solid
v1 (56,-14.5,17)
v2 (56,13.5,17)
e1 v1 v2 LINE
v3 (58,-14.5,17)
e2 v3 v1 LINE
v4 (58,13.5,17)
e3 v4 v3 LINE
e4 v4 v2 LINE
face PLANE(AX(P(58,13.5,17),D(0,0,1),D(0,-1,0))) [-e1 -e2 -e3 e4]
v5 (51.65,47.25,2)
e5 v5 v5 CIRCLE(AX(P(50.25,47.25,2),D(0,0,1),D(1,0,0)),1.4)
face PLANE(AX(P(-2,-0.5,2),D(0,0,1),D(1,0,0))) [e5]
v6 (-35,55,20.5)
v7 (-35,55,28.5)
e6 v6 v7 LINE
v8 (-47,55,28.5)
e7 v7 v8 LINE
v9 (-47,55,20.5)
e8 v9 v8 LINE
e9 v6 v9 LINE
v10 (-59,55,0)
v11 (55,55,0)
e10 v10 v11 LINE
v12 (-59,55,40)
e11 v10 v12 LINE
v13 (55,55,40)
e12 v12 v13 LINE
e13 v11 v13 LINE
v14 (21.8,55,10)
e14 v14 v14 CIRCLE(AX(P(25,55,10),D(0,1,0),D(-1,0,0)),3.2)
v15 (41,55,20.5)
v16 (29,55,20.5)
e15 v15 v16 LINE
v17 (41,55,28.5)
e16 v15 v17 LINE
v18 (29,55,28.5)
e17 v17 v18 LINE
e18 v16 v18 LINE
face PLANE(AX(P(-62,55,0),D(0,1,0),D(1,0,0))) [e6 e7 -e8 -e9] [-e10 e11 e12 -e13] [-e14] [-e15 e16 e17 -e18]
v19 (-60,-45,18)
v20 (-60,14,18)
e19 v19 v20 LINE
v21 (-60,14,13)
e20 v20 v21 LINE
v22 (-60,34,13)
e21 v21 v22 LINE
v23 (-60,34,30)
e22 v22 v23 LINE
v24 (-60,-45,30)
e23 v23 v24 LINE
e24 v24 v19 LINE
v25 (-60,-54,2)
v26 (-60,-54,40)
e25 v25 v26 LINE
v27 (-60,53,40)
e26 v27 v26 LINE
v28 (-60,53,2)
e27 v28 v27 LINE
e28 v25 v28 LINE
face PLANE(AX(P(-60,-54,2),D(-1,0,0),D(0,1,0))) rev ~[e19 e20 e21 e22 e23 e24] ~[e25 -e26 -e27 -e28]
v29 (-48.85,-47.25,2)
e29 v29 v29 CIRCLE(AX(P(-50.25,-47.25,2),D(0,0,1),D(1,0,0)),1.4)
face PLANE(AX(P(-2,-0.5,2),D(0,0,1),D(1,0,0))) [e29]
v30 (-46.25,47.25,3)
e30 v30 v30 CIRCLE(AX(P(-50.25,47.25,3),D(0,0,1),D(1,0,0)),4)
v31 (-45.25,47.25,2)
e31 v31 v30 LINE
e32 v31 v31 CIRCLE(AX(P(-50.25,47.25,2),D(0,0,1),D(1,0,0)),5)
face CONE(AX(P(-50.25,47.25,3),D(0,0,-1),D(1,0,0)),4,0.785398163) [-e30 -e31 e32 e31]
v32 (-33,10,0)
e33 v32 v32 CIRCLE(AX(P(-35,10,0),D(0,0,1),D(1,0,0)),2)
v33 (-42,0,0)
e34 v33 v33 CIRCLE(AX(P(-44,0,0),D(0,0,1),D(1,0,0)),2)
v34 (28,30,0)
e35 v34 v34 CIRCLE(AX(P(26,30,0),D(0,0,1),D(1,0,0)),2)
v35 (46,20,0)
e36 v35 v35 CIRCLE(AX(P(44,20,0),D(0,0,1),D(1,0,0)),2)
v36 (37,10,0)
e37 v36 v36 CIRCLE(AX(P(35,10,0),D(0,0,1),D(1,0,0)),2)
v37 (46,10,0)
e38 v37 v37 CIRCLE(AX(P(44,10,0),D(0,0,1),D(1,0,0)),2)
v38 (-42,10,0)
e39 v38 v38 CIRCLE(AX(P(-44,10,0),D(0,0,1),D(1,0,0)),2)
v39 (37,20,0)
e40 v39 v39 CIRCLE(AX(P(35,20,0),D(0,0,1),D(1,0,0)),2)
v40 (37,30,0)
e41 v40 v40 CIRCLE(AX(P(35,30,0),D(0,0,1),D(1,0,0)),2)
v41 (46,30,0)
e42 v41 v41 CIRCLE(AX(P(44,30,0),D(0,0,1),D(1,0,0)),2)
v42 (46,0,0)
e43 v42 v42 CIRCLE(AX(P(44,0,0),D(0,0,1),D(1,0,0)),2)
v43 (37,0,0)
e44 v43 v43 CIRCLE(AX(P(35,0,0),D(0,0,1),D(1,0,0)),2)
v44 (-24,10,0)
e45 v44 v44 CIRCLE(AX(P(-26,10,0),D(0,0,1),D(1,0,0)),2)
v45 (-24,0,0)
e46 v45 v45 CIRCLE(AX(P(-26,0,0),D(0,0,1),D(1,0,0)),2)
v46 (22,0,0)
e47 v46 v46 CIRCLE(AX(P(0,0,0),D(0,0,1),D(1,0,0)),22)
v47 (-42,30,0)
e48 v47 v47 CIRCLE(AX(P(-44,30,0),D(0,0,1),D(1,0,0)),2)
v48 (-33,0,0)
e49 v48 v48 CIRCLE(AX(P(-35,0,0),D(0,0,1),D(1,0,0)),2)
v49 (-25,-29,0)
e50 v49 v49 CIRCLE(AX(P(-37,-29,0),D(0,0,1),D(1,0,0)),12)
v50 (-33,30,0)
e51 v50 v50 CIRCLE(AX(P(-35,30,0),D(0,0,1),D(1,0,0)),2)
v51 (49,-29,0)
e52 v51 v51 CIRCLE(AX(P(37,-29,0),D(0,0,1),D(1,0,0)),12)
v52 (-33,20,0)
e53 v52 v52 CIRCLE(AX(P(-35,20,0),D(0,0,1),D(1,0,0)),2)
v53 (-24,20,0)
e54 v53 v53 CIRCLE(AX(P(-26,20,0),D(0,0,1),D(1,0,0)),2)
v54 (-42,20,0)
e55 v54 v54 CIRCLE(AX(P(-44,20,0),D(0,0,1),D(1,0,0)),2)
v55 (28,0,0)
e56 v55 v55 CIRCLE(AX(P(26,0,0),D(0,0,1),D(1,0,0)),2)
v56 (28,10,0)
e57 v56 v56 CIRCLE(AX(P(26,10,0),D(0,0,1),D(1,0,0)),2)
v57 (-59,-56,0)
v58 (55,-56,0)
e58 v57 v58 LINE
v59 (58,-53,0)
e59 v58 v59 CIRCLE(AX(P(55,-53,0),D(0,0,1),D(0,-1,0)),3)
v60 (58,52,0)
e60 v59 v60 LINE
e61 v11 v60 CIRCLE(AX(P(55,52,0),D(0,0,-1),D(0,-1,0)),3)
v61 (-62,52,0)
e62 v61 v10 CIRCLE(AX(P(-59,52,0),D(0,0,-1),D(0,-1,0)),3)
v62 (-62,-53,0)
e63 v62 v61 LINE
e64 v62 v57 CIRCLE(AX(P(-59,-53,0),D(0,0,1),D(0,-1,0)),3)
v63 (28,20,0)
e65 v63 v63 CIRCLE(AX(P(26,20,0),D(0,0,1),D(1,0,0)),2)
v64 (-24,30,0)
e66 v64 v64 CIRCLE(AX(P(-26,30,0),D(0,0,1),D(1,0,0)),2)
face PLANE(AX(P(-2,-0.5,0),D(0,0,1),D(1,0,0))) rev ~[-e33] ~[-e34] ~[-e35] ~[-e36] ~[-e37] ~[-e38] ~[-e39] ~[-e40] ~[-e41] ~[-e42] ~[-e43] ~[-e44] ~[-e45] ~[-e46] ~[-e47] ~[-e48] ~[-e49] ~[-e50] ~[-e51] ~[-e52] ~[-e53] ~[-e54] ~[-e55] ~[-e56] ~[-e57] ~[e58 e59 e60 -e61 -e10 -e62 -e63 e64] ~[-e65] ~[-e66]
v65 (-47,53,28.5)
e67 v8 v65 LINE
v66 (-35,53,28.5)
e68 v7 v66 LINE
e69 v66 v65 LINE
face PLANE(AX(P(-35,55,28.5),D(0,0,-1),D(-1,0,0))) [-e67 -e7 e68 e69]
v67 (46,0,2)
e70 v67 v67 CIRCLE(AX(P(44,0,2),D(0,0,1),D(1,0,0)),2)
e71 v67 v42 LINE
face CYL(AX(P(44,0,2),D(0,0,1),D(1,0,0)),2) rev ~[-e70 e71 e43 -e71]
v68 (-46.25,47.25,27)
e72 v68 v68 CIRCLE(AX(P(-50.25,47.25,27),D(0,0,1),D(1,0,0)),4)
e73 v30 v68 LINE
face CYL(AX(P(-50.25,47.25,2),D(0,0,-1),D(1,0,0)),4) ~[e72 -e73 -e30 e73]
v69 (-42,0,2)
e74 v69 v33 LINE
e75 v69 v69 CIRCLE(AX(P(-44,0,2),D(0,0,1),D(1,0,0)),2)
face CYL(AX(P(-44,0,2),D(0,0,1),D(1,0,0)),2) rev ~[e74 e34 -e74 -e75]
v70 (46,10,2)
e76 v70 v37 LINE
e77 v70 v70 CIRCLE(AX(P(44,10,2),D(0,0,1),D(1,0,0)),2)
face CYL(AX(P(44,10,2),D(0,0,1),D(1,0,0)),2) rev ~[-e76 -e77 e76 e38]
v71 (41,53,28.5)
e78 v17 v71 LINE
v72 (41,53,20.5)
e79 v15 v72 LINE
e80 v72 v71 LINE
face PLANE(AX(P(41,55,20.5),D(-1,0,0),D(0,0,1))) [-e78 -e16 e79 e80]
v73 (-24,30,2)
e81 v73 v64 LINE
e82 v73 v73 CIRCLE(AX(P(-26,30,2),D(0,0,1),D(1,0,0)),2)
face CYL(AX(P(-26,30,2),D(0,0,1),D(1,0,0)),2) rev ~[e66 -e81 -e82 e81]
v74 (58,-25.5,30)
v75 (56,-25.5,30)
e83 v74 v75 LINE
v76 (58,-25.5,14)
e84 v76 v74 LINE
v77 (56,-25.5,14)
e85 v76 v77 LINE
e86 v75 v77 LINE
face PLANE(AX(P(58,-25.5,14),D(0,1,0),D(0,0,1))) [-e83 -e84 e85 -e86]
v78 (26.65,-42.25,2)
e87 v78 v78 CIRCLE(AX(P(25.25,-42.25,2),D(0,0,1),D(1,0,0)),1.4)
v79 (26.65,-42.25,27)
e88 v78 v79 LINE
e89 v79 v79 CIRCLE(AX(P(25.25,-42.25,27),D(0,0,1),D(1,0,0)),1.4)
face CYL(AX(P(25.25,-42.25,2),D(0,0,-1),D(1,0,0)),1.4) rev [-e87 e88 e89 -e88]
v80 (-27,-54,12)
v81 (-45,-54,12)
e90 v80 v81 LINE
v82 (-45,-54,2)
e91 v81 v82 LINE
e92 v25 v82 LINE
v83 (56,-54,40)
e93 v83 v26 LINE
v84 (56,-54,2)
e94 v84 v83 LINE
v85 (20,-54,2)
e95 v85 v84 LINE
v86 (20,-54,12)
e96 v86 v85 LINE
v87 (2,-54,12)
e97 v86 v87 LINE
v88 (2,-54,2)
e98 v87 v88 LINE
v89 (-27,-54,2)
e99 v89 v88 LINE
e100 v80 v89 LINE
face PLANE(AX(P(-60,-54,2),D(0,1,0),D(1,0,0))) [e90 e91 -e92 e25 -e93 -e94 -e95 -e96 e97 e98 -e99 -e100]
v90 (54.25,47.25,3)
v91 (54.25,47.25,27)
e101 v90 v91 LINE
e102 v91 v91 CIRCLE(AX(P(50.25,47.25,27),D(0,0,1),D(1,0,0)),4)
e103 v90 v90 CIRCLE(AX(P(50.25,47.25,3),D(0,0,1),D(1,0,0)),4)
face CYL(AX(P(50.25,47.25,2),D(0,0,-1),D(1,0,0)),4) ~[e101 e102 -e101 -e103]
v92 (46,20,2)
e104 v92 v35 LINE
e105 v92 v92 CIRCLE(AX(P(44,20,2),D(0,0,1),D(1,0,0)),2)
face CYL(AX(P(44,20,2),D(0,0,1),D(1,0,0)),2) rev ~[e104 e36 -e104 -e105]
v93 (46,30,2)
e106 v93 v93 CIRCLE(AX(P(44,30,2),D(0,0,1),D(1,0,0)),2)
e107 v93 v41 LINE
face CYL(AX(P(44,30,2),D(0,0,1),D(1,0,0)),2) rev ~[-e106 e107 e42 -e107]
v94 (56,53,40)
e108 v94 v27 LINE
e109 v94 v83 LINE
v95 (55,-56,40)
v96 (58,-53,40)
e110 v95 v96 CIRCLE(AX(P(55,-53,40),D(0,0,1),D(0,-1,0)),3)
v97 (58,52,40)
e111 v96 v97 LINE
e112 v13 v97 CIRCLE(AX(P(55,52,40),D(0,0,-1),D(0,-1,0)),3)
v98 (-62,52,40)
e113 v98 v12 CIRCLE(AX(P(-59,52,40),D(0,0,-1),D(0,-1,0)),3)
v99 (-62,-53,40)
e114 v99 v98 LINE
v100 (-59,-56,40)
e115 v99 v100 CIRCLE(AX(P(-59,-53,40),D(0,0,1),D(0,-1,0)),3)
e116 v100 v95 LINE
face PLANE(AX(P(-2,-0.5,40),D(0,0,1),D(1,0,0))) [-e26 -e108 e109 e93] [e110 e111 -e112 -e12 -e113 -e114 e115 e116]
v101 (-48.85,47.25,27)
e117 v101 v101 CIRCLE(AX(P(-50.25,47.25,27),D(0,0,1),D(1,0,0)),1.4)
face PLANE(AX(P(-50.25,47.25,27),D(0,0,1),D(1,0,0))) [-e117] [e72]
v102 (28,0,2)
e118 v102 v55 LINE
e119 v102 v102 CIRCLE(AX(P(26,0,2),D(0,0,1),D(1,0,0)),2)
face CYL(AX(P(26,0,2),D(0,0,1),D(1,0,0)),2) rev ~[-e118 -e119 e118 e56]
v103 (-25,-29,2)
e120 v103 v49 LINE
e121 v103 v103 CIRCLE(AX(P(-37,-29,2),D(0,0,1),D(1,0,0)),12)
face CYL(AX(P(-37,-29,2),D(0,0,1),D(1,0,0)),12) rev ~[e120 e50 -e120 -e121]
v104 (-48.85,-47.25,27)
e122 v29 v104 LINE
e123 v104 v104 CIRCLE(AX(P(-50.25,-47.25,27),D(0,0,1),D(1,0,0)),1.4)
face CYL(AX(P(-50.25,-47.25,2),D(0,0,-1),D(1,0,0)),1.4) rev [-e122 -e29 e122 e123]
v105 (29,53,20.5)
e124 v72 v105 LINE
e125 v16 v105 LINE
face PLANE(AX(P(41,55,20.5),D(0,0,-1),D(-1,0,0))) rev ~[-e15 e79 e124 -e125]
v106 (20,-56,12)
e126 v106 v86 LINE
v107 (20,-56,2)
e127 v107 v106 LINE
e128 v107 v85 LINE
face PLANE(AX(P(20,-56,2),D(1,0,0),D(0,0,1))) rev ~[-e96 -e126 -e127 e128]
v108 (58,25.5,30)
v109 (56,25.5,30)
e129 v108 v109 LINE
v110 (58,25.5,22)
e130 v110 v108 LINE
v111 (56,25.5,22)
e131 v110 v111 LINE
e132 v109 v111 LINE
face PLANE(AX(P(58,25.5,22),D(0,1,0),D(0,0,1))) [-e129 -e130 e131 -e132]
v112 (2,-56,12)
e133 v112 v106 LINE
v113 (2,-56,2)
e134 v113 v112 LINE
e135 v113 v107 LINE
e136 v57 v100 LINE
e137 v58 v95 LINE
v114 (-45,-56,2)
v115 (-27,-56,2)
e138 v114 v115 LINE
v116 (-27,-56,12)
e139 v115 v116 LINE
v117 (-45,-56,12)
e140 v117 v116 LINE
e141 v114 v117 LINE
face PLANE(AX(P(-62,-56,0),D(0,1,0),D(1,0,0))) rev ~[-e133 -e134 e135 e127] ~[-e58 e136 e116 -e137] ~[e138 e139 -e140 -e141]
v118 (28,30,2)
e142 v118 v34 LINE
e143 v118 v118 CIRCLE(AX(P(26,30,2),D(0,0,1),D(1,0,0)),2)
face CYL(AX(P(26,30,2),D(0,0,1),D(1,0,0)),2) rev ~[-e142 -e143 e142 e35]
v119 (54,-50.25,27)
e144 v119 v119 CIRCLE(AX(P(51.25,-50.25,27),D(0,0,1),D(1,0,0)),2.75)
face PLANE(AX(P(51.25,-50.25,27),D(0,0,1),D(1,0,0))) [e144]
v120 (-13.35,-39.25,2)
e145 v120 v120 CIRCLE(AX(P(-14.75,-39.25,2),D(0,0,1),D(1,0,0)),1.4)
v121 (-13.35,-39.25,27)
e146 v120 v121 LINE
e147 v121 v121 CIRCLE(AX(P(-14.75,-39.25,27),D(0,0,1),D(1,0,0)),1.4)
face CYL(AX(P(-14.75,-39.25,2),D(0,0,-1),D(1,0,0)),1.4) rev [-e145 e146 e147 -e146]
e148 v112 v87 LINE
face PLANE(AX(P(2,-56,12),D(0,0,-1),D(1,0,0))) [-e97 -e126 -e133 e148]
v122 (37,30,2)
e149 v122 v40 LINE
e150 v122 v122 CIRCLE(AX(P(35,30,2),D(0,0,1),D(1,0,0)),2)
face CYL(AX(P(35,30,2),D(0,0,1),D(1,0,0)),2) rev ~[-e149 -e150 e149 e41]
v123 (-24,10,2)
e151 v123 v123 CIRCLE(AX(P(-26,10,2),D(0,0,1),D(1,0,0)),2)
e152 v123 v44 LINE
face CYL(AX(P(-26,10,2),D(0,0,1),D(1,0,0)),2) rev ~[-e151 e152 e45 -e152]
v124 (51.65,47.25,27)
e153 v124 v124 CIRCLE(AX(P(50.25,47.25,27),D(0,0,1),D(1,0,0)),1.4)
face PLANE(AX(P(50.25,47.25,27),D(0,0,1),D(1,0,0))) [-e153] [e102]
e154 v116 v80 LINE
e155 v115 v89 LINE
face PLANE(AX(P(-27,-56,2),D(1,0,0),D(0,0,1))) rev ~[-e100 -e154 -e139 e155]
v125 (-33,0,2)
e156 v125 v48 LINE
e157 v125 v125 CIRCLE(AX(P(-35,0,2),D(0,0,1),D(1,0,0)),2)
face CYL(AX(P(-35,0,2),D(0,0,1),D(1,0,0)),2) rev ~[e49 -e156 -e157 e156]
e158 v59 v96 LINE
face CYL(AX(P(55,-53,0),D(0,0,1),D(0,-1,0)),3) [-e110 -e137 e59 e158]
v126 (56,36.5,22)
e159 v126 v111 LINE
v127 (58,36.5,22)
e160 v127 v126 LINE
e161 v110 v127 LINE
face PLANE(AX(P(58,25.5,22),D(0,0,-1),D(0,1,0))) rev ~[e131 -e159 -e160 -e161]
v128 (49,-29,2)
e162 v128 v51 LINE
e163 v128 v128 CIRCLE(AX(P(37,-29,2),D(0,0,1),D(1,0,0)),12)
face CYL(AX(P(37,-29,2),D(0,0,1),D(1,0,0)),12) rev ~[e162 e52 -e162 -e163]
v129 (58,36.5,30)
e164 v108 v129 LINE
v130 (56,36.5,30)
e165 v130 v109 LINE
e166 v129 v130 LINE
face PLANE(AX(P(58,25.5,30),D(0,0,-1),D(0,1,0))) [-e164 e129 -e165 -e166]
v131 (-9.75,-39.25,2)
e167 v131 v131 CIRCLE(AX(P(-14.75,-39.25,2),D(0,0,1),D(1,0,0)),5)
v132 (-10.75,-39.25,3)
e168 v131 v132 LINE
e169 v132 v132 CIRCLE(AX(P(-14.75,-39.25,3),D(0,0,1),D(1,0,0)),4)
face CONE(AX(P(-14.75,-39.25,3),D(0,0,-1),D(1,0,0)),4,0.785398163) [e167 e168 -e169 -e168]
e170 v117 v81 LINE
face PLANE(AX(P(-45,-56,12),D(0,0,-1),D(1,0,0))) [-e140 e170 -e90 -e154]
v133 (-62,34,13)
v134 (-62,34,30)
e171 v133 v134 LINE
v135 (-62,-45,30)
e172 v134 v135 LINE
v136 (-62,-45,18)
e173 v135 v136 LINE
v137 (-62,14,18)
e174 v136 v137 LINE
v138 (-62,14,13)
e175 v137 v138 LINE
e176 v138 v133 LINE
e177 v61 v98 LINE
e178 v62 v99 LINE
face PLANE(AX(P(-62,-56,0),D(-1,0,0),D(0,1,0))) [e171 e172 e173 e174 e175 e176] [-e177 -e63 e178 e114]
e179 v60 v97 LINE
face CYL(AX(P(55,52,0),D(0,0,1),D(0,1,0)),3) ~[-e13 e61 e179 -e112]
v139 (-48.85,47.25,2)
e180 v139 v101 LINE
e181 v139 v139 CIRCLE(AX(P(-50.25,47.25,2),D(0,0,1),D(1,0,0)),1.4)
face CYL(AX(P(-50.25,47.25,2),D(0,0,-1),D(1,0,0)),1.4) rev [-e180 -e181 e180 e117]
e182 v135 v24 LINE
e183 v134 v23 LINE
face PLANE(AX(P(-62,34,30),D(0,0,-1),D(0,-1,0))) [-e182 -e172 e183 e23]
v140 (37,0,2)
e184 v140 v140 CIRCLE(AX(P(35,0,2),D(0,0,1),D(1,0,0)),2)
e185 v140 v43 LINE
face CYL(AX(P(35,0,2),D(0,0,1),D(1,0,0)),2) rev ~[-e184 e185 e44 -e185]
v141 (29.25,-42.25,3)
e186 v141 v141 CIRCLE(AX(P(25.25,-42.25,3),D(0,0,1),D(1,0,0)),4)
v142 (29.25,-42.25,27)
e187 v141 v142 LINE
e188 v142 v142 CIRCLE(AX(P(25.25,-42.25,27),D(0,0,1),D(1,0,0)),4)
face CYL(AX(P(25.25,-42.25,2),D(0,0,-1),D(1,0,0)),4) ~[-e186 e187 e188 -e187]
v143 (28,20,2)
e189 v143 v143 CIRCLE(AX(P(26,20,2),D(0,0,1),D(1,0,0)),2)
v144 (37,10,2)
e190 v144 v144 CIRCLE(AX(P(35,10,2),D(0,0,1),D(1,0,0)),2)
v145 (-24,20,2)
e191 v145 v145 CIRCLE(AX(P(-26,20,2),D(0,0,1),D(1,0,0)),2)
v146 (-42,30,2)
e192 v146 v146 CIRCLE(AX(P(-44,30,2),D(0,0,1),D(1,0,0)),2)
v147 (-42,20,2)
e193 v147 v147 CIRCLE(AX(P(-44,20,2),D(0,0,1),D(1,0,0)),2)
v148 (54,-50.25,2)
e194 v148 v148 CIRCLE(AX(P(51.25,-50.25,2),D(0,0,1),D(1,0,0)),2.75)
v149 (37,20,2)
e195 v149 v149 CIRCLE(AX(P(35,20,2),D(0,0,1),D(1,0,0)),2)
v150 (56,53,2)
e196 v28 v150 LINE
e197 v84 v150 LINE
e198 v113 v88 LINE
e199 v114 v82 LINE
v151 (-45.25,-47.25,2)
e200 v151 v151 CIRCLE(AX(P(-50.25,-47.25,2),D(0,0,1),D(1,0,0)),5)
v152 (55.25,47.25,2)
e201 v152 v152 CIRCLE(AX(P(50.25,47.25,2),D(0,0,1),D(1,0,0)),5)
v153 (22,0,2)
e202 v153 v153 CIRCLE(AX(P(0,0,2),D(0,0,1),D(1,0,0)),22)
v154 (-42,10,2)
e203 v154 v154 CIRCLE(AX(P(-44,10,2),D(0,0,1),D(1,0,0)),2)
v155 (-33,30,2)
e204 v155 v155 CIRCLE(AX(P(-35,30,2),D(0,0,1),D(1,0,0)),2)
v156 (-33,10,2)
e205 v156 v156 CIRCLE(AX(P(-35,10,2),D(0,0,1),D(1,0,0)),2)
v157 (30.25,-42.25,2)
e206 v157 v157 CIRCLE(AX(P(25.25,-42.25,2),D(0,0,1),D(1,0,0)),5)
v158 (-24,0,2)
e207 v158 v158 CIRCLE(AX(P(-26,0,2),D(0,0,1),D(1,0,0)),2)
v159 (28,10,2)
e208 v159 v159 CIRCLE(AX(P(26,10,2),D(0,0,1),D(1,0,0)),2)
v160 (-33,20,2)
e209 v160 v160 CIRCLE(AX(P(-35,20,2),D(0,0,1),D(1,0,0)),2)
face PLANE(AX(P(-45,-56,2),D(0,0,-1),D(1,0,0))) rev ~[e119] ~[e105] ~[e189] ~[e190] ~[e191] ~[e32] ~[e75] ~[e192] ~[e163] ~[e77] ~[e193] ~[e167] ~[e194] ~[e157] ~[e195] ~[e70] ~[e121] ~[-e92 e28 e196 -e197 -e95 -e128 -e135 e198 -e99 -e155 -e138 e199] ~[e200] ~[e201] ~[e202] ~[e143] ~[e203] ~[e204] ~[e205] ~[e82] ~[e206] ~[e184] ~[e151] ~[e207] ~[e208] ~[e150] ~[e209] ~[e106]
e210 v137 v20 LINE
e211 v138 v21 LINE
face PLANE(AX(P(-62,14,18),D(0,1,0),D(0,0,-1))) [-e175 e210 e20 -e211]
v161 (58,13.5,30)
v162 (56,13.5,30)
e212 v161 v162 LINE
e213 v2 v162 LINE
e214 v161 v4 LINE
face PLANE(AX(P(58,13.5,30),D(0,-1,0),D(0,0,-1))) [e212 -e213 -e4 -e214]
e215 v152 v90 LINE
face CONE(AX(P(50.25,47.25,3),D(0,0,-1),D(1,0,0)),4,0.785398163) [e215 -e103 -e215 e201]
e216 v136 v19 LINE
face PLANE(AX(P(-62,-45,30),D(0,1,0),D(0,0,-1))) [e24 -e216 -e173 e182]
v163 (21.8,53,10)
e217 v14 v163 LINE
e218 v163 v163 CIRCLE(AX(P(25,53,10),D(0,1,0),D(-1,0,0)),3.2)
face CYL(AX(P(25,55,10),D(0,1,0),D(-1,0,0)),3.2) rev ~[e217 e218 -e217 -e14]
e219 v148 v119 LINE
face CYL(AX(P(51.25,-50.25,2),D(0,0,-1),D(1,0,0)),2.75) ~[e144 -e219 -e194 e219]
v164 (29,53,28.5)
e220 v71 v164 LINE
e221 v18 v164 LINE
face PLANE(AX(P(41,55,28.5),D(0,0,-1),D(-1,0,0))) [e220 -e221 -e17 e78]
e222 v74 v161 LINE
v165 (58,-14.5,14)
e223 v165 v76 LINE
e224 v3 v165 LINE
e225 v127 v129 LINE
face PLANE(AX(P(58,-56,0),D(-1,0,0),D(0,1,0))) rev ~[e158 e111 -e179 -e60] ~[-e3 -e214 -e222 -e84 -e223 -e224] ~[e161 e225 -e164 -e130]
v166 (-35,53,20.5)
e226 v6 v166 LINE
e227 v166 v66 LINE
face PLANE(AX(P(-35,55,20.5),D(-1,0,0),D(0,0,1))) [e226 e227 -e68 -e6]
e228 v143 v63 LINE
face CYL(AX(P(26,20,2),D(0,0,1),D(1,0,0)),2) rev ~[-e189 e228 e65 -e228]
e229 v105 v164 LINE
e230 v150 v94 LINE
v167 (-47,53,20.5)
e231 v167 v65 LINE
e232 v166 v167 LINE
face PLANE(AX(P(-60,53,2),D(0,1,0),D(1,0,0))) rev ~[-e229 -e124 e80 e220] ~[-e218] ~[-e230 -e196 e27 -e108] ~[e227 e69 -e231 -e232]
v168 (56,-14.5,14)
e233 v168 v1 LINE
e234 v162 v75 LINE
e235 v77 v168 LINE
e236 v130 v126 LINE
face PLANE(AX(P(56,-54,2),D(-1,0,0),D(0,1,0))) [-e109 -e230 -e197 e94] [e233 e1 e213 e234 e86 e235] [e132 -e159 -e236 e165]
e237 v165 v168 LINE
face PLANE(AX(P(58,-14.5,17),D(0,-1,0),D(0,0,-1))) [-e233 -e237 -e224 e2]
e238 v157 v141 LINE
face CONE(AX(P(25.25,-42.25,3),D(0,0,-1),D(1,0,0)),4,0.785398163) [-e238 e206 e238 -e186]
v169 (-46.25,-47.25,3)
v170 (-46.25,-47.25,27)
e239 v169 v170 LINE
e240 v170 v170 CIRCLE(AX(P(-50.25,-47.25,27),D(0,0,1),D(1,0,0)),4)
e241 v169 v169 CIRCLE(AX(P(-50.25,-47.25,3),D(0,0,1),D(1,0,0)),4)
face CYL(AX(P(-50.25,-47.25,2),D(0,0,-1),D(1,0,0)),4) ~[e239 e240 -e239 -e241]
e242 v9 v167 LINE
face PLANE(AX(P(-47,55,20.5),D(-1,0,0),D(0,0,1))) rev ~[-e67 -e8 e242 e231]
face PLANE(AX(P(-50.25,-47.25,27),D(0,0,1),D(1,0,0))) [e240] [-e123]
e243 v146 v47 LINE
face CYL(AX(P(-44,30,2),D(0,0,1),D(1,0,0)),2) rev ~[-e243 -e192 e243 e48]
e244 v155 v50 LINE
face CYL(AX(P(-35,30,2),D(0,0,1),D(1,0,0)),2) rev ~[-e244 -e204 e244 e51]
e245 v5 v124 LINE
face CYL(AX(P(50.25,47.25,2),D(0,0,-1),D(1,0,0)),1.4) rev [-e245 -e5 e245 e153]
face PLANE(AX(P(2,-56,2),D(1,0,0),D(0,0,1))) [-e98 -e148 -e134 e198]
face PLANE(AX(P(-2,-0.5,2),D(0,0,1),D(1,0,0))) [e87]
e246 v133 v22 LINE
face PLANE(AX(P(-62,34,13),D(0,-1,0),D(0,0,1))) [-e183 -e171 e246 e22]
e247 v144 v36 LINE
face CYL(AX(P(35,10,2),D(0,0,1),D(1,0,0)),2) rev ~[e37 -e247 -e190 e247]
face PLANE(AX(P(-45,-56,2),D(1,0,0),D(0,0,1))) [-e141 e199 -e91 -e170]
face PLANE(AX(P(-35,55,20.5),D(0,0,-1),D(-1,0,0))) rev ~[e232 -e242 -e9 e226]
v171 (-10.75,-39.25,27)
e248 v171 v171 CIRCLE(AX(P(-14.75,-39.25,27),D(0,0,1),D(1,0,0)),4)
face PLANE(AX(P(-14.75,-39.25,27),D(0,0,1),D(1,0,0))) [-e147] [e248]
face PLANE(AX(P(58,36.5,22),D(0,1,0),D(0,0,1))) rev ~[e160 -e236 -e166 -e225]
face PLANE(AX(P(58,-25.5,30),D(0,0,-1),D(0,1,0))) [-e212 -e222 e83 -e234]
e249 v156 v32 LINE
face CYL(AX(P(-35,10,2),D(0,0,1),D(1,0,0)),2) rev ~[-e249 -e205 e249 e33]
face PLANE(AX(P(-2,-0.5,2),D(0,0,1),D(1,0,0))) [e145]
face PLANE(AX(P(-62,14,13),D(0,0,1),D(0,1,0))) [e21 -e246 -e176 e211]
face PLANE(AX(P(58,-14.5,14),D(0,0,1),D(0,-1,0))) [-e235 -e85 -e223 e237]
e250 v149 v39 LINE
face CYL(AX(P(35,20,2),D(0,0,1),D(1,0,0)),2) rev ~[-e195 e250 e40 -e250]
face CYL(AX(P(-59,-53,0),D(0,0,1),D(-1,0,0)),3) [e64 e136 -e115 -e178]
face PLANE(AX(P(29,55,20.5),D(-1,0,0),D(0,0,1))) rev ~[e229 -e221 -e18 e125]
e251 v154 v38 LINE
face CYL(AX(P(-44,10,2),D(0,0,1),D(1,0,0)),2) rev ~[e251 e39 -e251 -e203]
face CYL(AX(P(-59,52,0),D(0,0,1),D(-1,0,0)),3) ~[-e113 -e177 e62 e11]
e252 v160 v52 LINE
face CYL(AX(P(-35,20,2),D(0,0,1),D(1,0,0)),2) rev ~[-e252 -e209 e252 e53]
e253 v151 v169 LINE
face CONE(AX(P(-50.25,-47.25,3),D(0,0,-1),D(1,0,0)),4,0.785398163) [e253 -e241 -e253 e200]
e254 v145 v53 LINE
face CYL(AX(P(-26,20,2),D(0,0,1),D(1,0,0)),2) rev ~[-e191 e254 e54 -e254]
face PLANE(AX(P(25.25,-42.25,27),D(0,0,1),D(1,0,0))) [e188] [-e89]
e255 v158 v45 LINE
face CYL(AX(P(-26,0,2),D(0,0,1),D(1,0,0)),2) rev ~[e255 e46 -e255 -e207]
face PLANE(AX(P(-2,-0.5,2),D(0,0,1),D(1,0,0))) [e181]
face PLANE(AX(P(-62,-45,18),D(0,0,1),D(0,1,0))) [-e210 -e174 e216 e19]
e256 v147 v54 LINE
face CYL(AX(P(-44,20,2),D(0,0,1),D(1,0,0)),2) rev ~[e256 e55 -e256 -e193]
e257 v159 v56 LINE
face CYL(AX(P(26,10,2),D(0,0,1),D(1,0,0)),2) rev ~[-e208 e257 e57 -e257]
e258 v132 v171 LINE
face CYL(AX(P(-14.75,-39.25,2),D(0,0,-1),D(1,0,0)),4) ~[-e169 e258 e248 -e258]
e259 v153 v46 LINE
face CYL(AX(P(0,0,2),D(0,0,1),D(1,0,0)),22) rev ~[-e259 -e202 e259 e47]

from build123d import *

# Parameters (mm, degrees)
SKETCH005_R                               = 22
SKETCH005_R_2                             = 12
SKETCH005_R_3                             = 2
EXTRUDE005_DEPTH                          = 10
SKETCH004_AS_DRAWN_R                      = 3.2
SKETCH004_AS_DRAWN_W                      = 12
SKETCH004_AS_DRAWN_H                      = 8
EXTRUDE004_DEPTH                          = 5
EXTRUDE004_ONTO_SKETCH004_ROLL_ANGLE      = 90
EXTRUDE004_ONTO_SKETCH004_PLACEMENT_ANGLE = 180
EXTRUDE003_DEPTH                          = 3
SKETCH002_W                               = 11
SKETCH002_H                               = 8
EXTRUDE002_DEPTH                          = 5
SKETCH_AS_DRAWN_W                         = 18
SKETCH_AS_DRAWN_H                         = 10
EXTRUDE_DEPTH                             = 5
EXTRUDE_ONTO_SKETCH_ROLL_ANGLE            = 90
SKETCH001_R                               = 4
SKETCH001_R_2                             = 1.4
SKETCH001_R_3                             = 2.75
EXTRUDE001_DEPTH                          = 25
BOX001_W                                  = 116
BOX001_H                                  = 107
BOX001_DEPTH                              = 40
BOX_W                                     = 120
BOX_H                                     = 111
BOX_DEPTH                                 = 40
FILLET_R                                  = 3
CHAMFER_SIZE                              = 1


with BuildPart() as extrude_lite:
    # Sketch005 → Extrude005 (new body)
    with BuildSketch(Plane.XY.offset(2)):
        Circle(SKETCH005_R)
        with Locations((-37, -29)):
            Circle(SKETCH005_R_2)
        with Locations((37, -29)):
            Circle(SKETCH005_R_2)
        with Locations((-44, 30)):
            Circle(SKETCH005_R_3)
        with Locations((-35, 30)):
            Circle(SKETCH005_R_3)
        with Locations((-26, 30)):
            Circle(SKETCH005_R_3)
        with Locations((-26, 20)):
            Circle(SKETCH005_R_3)
        with Locations((-35, 20)):
            Circle(SKETCH005_R_3)
        with Locations((-44, 20)):
            Circle(SKETCH005_R_3)
        with Locations((-44, 10)):
            Circle(SKETCH005_R_3)
        with Locations((-35, 10)):
            Circle(SKETCH005_R_3)
        with Locations((-26, 10)):
            Circle(SKETCH005_R_3)
        with Locations((-44, 0)):
            Circle(SKETCH005_R_3)
        with Locations((-35, 0)):
            Circle(SKETCH005_R_3)
        with Locations((-26, 0)):
            Circle(SKETCH005_R_3)
        with Locations((26, 0)):
            Circle(SKETCH005_R_3)
        with Locations((35, 0)):
            Circle(SKETCH005_R_3)
        with Locations((44, 0)):
            Circle(SKETCH005_R_3)
        with Locations((44, 10)):
            Circle(SKETCH005_R_3)
        with Locations((44, 20)):
            Circle(SKETCH005_R_3)
        with Locations((44, 30)):
            Circle(SKETCH005_R_3)
        with Locations((35, 30)):
            Circle(SKETCH005_R_3)
        with Locations((26, 30)):
            Circle(SKETCH005_R_3)
        with Locations((26, 20)):
            Circle(SKETCH005_R_3)
        with Locations((35, 20)):
            Circle(SKETCH005_R_3)
        with Locations((35, 10)):
            Circle(SKETCH005_R_3)
        with Locations((26, 10)):
            Circle(SKETCH005_R_3)
    extrude(amount=-EXTRUDE005_DEPTH)


with BuildPart() as extrude_antenna:
    # Sketch004 as drawn → Extrude004 (new)
    with BuildSketch(Plane.XY):
        with Locations((-25, 10)):
            Circle(SKETCH004_AS_DRAWN_R)
        with Locations((-35, 24.5)):
            Rectangle(SKETCH004_AS_DRAWN_W, SKETCH004_AS_DRAWN_H)
        with Locations((41, 24.5)):
            Rectangle(SKETCH004_AS_DRAWN_W, SKETCH004_AS_DRAWN_H)
    extrude(amount=-EXTRUDE004_DEPTH)


with BuildPart() as extrude_antenna_1:
    # Extrude004 onto Sketch004 roll: moved
    add(extrude_antenna.part.rotate(Axis((0, 0, 0), (1, 0, 0)), EXTRUDE004_ONTO_SKETCH004_ROLL_ANGLE))


with BuildPart() as extrude_antenna_2:
    # Extrude004 onto Sketch004 placement: moved
    add(extrude_antenna_1.part.moved(Location((0, 55, 0))).rotate(Axis((0, 55, 0), (0, 0, 1)), EXTRUDE004_ONTO_SKETCH004_PLACEMENT_ANGLE))


with BuildPart() as extrude_pwm:
    # Sketch003 → Extrude003 (new body)
    with BuildSketch(Plane(origin=(-62, 0, 0), x_dir=(0, -1, 0), z_dir=(-1, 0, 0))):
        Polygon((-34, 30), (45, 30), (45, 18), (-14, 18), (-14, 13), (-34, 13), align=None)
    extrude(amount=-EXTRUDE003_DEPTH)


with BuildPart() as extrude_wall_plug:
    # Sketch002 → Extrude002 (new body)
    with BuildSketch(Plane.YZ.offset(58)):
        Polygon((-25.5, 30), (13.5, 30), (13.5, 17), (-14.5, 17), (-14.5, 14), (-25.5, 14), align=None)
        with Locations((31, 26)):
            Rectangle(SKETCH002_W, SKETCH002_H)
    extrude(amount=-EXTRUDE002_DEPTH)


with BuildPart() as extrude_battery:
    # Sketch as drawn → Extrude (new)
    with BuildSketch(Plane.XY):
        with Locations((11, 7)):
            Rectangle(SKETCH_AS_DRAWN_W, SKETCH_AS_DRAWN_H)
        with Locations((-36, 7)):
            Rectangle(SKETCH_AS_DRAWN_W, SKETCH_AS_DRAWN_H)
    extrude(amount=-EXTRUDE_DEPTH)


with BuildPart() as extrude_battery_1:
    # Extrude onto Sketch roll: moved
    add(extrude_battery.part.rotate(Axis((0, 0, 0), (1, 0, 0)), EXTRUDE_ONTO_SKETCH_ROLL_ANGLE))


with BuildPart() as extrude_battery_2:
    # Extrude onto Sketch placement: moved
    add(extrude_battery_1.part.moved(Location((0, -56, 0))))


with BuildPart() as mount_extrude:
    # Sketch001 → Extrude001 (new body)
    with BuildSketch(Plane.XY.offset(2)):
        with Locations((-50.25, -47.25)):
            Circle(SKETCH001_R)
        with Locations((-50.25, -47.25)):
            Circle(SKETCH001_R_2, mode=Mode.SUBTRACT)
        with Locations((50.25, 47.25)):
            Circle(SKETCH001_R)
        with Locations((50.25, 47.25)):
            Circle(SKETCH001_R_2, mode=Mode.SUBTRACT)
        with Locations((-50.25, 47.25)):
            Circle(SKETCH001_R)
        with Locations((-50.25, 47.25)):
            Circle(SKETCH001_R_2, mode=Mode.SUBTRACT)
        with Locations((25.25, -42.25)):
            Circle(SKETCH001_R)
        with Locations((25.25, -42.25)):
            Circle(SKETCH001_R_2, mode=Mode.SUBTRACT)
        with Locations((51.25, -50.25)):
            Circle(SKETCH001_R_3)
        with Locations((-14.75, -39.25)):
            Circle(SKETCH001_R)
        with Locations((-14.75, -39.25)):
            Circle(SKETCH001_R_2, mode=Mode.SUBTRACT)
    extrude(amount=EXTRUDE001_DEPTH)


with BuildPart() as inner:
    # Box001 → Box001 (new body)
    with BuildSketch(Plane(origin=(-60, -54, 2), x_dir=(1, 0, 0), z_dir=(0, 0, 1))):
        with Locations((58, 53.5)):
            Rectangle(BOX001_W, BOX001_H)
    extrude(amount=BOX001_DEPTH)


with BuildPart() as chamfer_body:
    # Box → Box (new body)
    with BuildSketch(Plane(origin=(-62, -56, 0), x_dir=(1, 0, 0), z_dir=(0, 0, 1))):
        with Locations((60, 55.5)):
            Rectangle(BOX_W, BOX_H)
    extrude(amount=BOX_DEPTH)

    # Cut: cut Inner
    add(inner.part, mode=Mode.SUBTRACT)

    # Fusion: union Mount Extrude
    add(mount_extrude.part)

    # Cut001: cut Extrude Battery
    add(extrude_battery_2.part, mode=Mode.SUBTRACT)

    # Cut002: cut Extrude Wall Plug
    add(extrude_wall_plug.part, mode=Mode.SUBTRACT)

    # Cut003: cut Extrude PWM
    add(extrude_pwm.part, mode=Mode.SUBTRACT)

    # Cut004: cut Extrude Antenna
    add(extrude_antenna_2.part, mode=Mode.SUBTRACT)

    # Cut005: cut Extrude Lite
    add(extrude_lite.part, mode=Mode.SUBTRACT)

    # Fillet
    fillet_edges = [chamfer_body.edges().sort_by_distance(p)[0] for p in [
        (-62, -56, 20),
        (-62, 55, 20),
        (58, -56, 20),
        (58, 55, 20),
    ]]
    fillet(fillet_edges, radius=FILLET_R)

    # Chamfer
    chamfer_edges = [chamfer_body.edges().sort_by_distance(p)[0] for p in [
        (21.25, -42.25, 2),
        (-54.25, -47.25, 2),
        (-18.75, -39.25, 2),
        (46.25, 47.25, 2),
        (-54.25, 47.25, 2),
    ]]
    chamfer(chamfer_edges, length=CHAMFER_SIZE)


solid = chamfer_body.part
